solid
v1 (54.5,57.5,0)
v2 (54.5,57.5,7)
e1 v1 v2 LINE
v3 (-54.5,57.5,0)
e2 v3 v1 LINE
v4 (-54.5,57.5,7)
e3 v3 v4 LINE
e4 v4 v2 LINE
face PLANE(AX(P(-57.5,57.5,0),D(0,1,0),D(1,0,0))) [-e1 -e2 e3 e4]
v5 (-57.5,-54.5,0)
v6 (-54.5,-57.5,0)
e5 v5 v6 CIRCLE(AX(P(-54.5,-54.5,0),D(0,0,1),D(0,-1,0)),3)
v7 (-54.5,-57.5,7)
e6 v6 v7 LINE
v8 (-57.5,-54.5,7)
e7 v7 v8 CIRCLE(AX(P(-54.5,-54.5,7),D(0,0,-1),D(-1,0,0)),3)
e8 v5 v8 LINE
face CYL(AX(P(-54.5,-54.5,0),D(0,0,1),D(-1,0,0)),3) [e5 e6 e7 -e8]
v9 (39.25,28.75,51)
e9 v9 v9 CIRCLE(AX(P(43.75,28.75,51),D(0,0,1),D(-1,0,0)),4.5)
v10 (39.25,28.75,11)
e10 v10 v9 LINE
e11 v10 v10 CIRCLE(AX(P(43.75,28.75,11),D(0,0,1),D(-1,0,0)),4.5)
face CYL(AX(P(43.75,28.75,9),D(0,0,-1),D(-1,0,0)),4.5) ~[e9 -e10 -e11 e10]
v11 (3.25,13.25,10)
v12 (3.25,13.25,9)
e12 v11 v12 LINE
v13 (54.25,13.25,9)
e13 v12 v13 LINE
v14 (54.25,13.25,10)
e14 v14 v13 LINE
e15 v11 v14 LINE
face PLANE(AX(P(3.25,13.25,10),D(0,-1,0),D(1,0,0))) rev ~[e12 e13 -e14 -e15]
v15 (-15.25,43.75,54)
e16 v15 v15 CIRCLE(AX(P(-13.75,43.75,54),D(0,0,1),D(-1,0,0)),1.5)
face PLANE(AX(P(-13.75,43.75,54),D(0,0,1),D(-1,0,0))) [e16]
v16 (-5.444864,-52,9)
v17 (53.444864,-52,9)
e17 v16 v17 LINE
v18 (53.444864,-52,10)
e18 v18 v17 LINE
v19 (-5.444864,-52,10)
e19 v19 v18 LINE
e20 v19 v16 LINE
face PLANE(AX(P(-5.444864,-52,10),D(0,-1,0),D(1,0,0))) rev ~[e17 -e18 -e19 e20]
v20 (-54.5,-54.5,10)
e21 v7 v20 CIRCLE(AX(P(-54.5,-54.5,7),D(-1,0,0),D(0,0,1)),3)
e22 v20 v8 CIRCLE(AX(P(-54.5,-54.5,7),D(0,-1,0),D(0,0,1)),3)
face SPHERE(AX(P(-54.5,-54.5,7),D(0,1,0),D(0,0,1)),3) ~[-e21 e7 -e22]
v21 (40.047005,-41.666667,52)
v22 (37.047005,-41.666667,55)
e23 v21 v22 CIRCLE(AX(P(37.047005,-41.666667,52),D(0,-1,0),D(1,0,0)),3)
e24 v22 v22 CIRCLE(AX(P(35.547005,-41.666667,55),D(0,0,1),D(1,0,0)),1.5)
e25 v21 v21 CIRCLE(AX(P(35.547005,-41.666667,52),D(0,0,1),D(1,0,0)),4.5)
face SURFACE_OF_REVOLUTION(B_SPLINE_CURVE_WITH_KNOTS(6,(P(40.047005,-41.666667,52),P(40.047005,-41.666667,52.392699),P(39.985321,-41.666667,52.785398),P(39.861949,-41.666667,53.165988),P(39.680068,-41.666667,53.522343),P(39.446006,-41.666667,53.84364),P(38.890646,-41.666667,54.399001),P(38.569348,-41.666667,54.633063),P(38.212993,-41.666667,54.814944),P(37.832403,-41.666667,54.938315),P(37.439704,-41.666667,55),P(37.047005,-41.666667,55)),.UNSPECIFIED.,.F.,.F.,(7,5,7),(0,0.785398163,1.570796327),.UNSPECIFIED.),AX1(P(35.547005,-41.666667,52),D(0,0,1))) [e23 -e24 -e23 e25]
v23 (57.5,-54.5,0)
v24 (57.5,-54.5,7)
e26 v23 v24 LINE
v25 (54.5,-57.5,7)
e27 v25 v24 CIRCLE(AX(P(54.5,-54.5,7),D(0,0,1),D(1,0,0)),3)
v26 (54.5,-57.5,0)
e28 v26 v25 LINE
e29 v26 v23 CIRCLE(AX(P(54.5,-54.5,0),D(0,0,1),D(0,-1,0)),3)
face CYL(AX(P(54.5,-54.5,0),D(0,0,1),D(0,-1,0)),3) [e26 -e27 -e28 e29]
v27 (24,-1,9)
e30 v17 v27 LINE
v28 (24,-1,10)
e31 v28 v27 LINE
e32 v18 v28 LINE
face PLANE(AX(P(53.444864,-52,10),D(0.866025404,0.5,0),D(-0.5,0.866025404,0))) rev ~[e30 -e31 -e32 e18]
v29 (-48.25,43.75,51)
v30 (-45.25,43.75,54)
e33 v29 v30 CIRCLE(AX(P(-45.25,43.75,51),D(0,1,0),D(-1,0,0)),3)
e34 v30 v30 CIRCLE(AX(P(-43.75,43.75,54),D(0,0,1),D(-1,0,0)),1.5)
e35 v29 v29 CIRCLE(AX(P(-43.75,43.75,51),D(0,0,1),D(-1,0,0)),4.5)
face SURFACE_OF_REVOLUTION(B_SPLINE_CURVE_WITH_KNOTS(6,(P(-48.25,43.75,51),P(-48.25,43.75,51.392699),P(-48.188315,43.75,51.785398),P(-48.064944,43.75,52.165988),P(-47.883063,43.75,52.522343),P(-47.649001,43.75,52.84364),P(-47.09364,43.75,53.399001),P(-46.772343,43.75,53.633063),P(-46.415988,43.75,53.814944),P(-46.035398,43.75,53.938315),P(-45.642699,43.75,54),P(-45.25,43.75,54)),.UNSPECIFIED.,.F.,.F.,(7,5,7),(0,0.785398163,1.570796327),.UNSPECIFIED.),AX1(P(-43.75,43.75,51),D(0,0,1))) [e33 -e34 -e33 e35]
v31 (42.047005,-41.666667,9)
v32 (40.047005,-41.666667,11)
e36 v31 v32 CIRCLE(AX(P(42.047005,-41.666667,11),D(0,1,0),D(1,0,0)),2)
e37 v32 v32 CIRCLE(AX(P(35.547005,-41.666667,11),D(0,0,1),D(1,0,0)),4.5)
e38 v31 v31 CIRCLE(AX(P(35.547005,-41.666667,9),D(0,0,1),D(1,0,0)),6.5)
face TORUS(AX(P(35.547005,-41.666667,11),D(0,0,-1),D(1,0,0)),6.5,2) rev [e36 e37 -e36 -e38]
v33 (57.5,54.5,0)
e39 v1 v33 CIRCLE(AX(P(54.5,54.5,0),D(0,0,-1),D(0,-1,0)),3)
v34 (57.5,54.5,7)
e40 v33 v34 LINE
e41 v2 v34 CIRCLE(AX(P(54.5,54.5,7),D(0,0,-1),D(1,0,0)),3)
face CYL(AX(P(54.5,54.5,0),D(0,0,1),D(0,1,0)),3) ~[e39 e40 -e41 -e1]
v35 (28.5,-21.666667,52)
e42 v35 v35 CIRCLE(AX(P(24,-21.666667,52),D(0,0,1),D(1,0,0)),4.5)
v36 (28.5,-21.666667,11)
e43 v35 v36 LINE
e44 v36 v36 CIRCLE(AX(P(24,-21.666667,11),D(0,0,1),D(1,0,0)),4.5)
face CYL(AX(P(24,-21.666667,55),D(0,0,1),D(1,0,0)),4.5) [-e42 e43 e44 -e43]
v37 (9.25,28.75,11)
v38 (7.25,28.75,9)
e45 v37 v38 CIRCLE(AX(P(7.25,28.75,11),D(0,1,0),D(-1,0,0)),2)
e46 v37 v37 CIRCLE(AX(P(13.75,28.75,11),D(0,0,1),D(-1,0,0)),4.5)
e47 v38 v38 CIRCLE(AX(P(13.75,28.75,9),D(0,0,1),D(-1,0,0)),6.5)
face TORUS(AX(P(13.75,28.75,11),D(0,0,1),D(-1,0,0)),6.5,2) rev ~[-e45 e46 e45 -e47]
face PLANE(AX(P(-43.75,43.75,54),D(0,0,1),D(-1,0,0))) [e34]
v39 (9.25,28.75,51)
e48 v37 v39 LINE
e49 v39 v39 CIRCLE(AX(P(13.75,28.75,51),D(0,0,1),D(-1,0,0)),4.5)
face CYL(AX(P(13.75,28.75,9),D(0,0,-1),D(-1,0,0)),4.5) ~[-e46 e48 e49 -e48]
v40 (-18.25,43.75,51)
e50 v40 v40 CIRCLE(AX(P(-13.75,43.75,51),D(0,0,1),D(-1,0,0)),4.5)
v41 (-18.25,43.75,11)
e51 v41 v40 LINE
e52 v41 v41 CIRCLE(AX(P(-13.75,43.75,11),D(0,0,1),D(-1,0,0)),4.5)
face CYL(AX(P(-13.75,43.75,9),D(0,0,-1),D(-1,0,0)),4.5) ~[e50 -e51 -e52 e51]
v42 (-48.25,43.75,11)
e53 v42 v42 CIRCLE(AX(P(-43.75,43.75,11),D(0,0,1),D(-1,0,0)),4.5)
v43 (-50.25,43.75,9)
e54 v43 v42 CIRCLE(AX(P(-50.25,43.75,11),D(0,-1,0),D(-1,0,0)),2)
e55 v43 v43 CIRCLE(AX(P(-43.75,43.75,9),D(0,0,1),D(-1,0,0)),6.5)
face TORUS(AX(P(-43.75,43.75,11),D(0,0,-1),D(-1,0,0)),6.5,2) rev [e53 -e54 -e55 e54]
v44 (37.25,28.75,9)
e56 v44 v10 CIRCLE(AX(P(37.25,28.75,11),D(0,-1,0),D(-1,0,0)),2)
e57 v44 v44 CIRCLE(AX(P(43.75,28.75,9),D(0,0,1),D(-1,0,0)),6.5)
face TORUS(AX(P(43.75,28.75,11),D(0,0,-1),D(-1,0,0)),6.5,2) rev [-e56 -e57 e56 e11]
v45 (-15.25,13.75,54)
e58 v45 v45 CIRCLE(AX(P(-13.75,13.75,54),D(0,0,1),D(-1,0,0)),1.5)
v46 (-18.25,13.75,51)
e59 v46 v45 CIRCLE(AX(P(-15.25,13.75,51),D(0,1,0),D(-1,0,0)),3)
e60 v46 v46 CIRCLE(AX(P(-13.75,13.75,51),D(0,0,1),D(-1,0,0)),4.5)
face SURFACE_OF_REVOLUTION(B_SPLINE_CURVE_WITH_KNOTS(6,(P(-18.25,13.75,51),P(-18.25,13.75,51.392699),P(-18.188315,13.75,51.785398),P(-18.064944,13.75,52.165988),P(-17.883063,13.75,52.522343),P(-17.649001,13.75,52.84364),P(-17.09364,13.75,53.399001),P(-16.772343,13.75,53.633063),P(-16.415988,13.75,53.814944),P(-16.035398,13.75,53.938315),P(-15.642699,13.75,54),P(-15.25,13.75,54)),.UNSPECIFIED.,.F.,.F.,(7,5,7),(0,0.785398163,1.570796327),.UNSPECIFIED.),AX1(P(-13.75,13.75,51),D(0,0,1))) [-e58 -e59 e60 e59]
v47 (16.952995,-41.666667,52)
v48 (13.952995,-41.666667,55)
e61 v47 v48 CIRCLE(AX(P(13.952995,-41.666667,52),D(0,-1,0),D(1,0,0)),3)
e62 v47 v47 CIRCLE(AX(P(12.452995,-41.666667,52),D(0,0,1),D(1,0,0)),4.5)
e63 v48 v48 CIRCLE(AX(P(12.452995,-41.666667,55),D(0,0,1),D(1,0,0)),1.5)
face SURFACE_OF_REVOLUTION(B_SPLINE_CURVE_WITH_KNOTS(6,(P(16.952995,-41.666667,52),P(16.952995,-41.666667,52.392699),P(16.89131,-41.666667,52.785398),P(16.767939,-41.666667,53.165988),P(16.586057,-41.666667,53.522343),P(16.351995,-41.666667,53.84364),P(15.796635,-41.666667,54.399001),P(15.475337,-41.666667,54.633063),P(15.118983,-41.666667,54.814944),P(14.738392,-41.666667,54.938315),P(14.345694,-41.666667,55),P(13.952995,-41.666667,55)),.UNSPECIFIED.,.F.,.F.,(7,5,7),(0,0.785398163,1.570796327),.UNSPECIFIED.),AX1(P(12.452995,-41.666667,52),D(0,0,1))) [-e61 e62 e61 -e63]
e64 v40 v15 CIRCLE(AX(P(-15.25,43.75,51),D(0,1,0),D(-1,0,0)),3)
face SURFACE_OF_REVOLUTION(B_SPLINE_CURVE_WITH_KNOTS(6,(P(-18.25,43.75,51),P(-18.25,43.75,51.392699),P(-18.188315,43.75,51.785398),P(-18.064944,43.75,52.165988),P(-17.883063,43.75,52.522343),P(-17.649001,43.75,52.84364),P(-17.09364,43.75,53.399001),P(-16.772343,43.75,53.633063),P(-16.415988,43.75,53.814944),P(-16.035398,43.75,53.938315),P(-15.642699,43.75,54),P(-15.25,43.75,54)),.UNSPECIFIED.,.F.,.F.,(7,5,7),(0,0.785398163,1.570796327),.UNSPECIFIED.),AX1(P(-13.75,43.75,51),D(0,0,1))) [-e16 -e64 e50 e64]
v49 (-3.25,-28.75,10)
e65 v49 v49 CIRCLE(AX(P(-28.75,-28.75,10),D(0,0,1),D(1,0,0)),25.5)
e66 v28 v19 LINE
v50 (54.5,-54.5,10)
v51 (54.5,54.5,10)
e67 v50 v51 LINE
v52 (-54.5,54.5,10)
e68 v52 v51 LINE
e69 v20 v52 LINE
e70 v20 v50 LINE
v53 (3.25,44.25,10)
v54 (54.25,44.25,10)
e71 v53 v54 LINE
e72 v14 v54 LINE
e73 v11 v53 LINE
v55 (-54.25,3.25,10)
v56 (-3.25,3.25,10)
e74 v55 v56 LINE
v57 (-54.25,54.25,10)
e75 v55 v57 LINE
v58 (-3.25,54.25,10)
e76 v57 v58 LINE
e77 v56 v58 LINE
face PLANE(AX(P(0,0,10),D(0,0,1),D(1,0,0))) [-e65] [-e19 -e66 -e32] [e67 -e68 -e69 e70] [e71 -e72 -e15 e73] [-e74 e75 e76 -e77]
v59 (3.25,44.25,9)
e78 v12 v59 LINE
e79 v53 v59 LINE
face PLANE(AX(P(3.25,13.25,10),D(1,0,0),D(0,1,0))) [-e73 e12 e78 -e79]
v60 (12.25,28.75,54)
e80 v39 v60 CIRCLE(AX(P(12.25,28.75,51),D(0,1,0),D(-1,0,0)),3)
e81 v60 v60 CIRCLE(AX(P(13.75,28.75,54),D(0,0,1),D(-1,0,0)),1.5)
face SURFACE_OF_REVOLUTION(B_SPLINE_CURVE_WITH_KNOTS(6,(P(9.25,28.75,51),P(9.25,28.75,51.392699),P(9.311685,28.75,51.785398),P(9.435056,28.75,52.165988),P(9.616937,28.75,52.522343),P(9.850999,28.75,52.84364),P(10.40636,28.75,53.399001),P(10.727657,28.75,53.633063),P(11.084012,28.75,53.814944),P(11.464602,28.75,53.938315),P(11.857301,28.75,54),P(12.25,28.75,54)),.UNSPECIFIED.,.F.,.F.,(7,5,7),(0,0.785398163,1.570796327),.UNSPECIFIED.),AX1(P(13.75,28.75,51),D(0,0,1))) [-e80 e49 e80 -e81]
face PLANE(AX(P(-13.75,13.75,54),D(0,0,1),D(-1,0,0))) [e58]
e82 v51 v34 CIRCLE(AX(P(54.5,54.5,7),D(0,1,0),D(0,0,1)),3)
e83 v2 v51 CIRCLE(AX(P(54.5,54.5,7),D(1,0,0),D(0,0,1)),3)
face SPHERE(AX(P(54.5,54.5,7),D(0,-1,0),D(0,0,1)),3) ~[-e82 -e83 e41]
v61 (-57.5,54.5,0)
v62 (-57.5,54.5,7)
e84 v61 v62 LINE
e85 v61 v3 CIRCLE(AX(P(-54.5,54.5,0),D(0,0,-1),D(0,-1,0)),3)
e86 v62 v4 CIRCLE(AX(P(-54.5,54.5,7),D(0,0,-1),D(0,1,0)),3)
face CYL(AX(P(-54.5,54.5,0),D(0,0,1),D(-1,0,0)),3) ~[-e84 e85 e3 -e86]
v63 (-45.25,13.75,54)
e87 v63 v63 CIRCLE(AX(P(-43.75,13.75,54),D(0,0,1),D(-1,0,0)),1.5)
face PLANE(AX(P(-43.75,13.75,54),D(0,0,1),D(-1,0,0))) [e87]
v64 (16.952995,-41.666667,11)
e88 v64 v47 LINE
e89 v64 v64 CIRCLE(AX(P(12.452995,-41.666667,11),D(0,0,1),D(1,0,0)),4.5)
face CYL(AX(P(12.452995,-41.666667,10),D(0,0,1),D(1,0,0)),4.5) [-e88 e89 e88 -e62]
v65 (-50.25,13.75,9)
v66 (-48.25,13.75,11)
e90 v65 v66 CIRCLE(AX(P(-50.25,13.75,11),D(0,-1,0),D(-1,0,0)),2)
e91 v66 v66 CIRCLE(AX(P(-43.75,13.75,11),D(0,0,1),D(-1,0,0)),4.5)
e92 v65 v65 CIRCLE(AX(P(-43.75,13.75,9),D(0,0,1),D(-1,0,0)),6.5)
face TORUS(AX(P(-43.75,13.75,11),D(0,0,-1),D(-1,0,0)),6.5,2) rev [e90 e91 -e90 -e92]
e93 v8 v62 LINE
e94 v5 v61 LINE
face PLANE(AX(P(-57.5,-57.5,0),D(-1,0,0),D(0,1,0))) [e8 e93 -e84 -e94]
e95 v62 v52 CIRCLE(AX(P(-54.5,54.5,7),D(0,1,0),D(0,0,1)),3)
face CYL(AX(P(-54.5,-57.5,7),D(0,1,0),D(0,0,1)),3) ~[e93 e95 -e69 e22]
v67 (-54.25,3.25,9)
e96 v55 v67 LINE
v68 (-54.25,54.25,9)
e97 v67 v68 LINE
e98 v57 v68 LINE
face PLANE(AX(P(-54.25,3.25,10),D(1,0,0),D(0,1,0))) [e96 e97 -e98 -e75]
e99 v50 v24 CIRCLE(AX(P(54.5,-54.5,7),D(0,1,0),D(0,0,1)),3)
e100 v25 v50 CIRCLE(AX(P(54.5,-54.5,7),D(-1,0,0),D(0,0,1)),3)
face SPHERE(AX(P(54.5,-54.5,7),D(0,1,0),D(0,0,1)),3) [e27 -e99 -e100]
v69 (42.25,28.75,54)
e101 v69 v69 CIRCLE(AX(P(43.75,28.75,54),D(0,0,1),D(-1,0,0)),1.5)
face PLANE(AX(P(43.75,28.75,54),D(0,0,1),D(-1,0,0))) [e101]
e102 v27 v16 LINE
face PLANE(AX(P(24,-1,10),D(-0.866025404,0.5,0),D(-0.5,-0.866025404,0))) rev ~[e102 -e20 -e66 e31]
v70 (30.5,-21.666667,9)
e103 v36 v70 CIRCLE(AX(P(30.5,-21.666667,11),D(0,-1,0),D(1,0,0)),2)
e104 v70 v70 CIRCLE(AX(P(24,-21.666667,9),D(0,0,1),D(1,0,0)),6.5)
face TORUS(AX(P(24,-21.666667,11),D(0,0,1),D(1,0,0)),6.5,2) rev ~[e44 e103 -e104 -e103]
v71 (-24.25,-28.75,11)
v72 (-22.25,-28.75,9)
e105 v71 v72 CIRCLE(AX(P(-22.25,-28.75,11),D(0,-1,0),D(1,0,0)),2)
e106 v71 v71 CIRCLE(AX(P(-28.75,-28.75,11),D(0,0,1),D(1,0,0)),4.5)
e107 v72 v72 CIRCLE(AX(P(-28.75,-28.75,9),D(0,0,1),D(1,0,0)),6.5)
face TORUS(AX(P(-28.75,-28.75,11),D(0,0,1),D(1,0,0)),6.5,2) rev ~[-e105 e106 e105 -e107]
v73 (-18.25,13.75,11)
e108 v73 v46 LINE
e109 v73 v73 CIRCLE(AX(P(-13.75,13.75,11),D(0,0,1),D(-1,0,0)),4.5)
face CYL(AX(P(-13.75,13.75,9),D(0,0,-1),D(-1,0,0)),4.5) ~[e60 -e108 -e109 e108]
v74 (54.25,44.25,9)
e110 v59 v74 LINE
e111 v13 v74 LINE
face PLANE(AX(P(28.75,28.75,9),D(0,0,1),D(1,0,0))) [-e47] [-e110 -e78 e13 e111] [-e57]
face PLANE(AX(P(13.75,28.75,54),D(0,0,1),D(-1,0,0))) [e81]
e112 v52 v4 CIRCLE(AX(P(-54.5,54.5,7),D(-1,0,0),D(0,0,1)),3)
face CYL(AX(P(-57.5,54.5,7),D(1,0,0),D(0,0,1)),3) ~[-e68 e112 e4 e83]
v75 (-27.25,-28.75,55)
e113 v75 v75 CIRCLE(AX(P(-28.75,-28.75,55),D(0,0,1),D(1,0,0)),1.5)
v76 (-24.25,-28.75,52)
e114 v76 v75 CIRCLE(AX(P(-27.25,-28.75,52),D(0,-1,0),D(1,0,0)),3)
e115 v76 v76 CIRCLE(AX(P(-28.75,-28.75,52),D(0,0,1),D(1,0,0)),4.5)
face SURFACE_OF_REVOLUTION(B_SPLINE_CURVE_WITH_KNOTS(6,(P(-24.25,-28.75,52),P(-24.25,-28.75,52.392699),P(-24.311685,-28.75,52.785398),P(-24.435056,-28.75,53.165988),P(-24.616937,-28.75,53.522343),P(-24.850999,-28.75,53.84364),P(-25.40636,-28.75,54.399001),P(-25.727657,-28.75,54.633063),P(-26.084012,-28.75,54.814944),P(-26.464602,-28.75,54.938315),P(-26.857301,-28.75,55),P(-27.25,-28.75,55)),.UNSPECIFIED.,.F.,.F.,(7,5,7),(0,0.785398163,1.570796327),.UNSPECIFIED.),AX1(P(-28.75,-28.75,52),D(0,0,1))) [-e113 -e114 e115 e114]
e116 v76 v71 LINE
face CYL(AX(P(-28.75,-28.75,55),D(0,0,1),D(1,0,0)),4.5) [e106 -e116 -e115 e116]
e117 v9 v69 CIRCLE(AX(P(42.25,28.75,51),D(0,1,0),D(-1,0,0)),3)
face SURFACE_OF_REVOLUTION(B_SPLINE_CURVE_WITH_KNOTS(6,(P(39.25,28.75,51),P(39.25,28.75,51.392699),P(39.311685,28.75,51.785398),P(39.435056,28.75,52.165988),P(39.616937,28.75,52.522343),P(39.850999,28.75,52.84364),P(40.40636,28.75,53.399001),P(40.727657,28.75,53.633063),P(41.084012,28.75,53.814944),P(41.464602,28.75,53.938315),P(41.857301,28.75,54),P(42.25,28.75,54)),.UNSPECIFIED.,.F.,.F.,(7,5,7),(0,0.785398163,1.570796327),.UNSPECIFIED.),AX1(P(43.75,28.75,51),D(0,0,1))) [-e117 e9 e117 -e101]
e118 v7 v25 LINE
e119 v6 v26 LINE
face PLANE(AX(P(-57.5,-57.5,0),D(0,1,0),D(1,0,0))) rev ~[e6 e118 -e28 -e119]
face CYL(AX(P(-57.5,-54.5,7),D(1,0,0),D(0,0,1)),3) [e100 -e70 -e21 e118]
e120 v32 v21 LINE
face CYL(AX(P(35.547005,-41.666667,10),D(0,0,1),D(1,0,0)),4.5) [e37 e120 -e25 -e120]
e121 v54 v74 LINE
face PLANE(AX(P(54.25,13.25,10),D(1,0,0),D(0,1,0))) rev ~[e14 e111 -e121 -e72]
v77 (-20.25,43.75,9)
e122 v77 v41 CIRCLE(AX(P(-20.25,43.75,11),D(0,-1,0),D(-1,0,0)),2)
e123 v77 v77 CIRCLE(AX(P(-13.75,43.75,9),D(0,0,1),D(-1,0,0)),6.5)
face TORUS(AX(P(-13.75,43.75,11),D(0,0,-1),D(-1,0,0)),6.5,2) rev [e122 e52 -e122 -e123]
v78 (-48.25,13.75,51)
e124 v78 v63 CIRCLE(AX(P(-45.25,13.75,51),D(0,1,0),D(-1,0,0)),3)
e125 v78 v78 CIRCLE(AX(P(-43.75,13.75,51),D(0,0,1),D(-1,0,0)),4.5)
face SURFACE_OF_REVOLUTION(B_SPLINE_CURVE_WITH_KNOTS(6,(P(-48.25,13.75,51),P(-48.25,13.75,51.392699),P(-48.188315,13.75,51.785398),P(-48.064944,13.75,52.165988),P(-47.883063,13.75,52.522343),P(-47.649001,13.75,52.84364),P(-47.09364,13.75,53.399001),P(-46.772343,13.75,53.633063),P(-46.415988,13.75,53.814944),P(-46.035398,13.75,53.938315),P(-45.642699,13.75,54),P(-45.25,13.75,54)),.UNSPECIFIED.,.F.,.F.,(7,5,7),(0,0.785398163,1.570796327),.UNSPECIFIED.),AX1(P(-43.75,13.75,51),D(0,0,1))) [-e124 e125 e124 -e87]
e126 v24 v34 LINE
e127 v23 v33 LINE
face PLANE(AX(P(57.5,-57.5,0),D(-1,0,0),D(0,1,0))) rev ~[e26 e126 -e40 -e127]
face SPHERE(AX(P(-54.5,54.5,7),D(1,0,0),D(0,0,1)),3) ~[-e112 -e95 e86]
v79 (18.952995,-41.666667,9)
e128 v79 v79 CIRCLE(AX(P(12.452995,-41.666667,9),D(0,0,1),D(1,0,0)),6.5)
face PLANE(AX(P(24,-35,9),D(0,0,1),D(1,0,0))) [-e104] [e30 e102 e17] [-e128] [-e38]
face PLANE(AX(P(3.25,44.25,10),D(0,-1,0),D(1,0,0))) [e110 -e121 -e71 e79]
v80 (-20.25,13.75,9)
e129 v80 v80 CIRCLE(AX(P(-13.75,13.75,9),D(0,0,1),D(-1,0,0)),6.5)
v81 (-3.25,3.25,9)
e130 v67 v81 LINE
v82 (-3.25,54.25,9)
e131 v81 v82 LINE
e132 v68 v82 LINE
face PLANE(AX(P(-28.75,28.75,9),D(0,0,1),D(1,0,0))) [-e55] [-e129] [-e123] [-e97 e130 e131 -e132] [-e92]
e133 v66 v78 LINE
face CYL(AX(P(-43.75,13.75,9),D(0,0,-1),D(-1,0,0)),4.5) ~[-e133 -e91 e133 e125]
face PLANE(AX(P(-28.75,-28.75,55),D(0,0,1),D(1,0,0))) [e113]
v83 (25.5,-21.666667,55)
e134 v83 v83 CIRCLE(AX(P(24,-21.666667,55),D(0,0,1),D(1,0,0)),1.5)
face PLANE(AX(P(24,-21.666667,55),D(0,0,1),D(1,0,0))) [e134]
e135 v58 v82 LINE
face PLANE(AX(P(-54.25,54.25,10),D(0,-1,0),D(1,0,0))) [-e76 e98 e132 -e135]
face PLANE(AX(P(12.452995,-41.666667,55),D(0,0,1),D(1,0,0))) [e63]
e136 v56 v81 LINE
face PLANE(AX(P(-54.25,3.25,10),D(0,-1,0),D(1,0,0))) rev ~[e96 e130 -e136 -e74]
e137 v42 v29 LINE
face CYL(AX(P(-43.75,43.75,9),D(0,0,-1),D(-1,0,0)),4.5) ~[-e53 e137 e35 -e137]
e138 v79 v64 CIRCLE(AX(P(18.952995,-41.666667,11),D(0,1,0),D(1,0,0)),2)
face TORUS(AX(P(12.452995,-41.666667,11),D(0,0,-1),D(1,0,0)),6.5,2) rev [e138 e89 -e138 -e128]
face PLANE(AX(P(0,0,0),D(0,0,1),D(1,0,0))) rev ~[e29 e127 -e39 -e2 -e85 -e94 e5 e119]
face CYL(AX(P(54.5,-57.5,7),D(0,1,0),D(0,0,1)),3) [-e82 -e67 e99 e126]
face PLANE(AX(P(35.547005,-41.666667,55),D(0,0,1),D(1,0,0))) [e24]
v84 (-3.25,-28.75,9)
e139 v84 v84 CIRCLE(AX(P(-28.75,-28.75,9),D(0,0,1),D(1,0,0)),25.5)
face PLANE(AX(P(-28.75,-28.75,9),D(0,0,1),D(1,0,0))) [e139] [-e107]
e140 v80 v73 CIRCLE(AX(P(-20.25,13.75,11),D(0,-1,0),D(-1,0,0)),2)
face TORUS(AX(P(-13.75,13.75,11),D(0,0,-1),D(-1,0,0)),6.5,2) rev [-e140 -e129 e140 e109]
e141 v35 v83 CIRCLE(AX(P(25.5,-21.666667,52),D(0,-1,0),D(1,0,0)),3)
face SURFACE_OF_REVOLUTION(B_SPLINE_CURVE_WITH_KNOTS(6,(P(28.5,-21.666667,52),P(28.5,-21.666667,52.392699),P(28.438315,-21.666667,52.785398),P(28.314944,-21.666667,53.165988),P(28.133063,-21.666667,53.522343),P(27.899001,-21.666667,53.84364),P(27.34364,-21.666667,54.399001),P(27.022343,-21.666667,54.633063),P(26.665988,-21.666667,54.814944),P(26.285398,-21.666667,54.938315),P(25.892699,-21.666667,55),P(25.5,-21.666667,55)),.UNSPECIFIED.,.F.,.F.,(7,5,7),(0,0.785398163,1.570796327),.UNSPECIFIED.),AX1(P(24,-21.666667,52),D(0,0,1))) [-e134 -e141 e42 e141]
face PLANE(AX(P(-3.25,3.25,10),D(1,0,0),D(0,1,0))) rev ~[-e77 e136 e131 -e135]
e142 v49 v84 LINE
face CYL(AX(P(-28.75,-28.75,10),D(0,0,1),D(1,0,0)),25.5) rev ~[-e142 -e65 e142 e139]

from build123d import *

# Parameters (mm, degrees)
SKETCH1_W           = 115
SKETCH1_H           = 115
BOSS_EXTRUDE1_DEPTH = 10
SKETCH2_W           = 51
SKETCH2_H           = 51
CUT_EXTRUDE1_DEPTH  = 1
SKETCH3_R           = 4.5
BOSS_EXTRUDE2_DEPTH = 45
FILLET1_R           = 2
FILLET2_R           = 3
SKETCH4_W           = 51
SKETCH4_H           = 31
CUT_EXTRUDE2_DEPTH  = 1
SKETCH5_R           = 4.5
BOSS_EXTRUDE3_DEPTH = 45
FILLET3_R           = 3
FILLET4_R           = 2
SKETCH11_R          = 25.5
SKETCH11_R_2        = 4.5
CUT_EXTRUDE5_DEPTH  = 1
BOSS_EXTRUDE5_START = 45
SKETCH14_R          = 4.5
BOSS_EXTRUDE5_DEPTH = 45
FILLET7_R           = 3
FILLET8_R           = 2
SKETCH6_R           = 4.5
CUT_EXTRUDE6_DEPTH  = 1
BOSS_EXTRUDE6_START = 45
SKETCH16_R          = 4.5
BOSS_EXTRUDE6_DEPTH = 45
FILLET9_R           = 2
FILLET10_R          = 3
FILLET11_R          = 3


with BuildPart() as part:
    # Sketch1 → Boss-Extrude1 (new body)
    with BuildSketch(Plane.XY):
        Rectangle(SKETCH1_W, SKETCH1_H)
    extrude(amount=BOSS_EXTRUDE1_DEPTH)

    # Sketch2 → Cut-Extrude1 (cut)
    with BuildSketch(Plane.XY.offset(10)):
        with Locations((-28.75, 28.75)):
            Rectangle(SKETCH2_W, SKETCH2_H)
    extrude(amount=-CUT_EXTRUDE1_DEPTH, mode=Mode.SUBTRACT)

    # Sketch3 → Boss-Extrude2 (add)
    with BuildSketch(Plane.XY.offset(9)):
        with Locations(Location((-43.75, 43.75, 0), (0, 0, 180))):
            Circle(SKETCH3_R)
        with Locations(Location((-13.75, 43.75, 0), (0, 0, 180))):
            Circle(SKETCH3_R)
        with Locations(Location((-13.75, 13.75, 0), (0, 0, 180))):
            Circle(SKETCH3_R)
        with Locations(Location((-43.75, 13.75, 0), (0, 0, 180))):
            Circle(SKETCH3_R)
    extrude(amount=BOSS_EXTRUDE2_DEPTH)

    # Fillet1
    fillet1_edges = [part.edges().sort_by_distance(p)[0] for p in [
        (-39.25, 43.75, 9),
        (-9.25, 43.75, 9),
        (-9.25, 13.75, 9),
        (-39.25, 13.75, 9),
    ]]
    fillet(fillet1_edges, radius=FILLET1_R)

    # Fillet2
    fillet2_edges = [part.edges().sort_by_distance(p)[0] for p in [
        (-39.25, 43.75, 54),
        (-9.25, 43.75, 54),
        (-9.25, 13.75, 54),
        (-39.25, 13.75, 54),
    ]]
    fillet(fillet2_edges, radius=FILLET2_R)

    # Sketch4 → Cut-Extrude2 (cut)
    with BuildSketch(Plane.XY.offset(10)):
        with Locations((28.75, 28.75)):
            Rectangle(SKETCH4_W, SKETCH4_H)
    extrude(amount=-CUT_EXTRUDE2_DEPTH, mode=Mode.SUBTRACT)

    # Sketch5 → Boss-Extrude3 (add)
    with BuildSketch(Plane.XY.offset(9)):
        with Locations(Location((13.75, 28.75, 0), (0, 0, 180))):
            Circle(SKETCH5_R)
        with Locations(Location((43.75, 28.75, 0), (0, 0, 180))):
            Circle(SKETCH5_R)
    extrude(amount=BOSS_EXTRUDE3_DEPTH)

    # Fillet3
    fillet3_edges = [part.edges().sort_by_distance(p)[0] for p in [
        (18.25, 28.75, 54),
        (48.25, 28.75, 54),
    ]]
    fillet(fillet3_edges, radius=FILLET3_R)

    # Fillet4
    fillet4_edges = [part.edges().sort_by_distance(p)[0] for p in [
        (18.25, 28.75, 9),
        (48.25, 28.75, 9),
    ]]
    fillet(fillet4_edges, radius=FILLET4_R)

    # Sketch11 → Cut-Extrude5 (cut)
    with BuildSketch(Plane.XY.offset(10)):
        with Locations((-28.75, -28.75)):
            Circle(SKETCH11_R)
        with Locations((-28.75, -28.75)):
            Circle(SKETCH11_R_2, mode=Mode.SUBTRACT)
    extrude(amount=-CUT_EXTRUDE5_DEPTH, mode=Mode.SUBTRACT)

    # Sketch14 → Boss-Extrude5 (add)
    with BuildSketch(Plane.XY.offset(10).offset(BOSS_EXTRUDE5_START)):
        with Locations((-28.75, -28.75)):
            Circle(SKETCH14_R)
    extrude(amount=-BOSS_EXTRUDE5_DEPTH)

    # Fillet7
    fillet7_edges = [part.edges().sort_by_distance(p)[0] for p in [
        (-33.25, -28.75, 55),
    ]]
    fillet(fillet7_edges, radius=FILLET7_R)

    # Fillet8
    fillet8_edges = [part.edges().sort_by_distance(p)[0] for p in [
        (-33.25, -28.75, 9),
    ]]
    fillet(fillet8_edges, radius=FILLET8_R)

    # Sketch6 → Cut-Extrude6 (cut)
    with BuildSketch(Plane.XY.offset(10)):
        Polygon((24, -1), (-5.444863729, -52), (53.444863729, -52), align=None)
        with Locations((24, -21.666666667)):
            Circle(SKETCH6_R, mode=Mode.SUBTRACT)
        with Locations((35.547005384, -41.666666667)):
            Circle(SKETCH6_R, mode=Mode.SUBTRACT)
        with Locations((12.452994616, -41.666666667)):
            Circle(SKETCH6_R, mode=Mode.SUBTRACT)
    extrude(amount=-CUT_EXTRUDE6_DEPTH, mode=Mode.SUBTRACT)

    # Sketch16 → Boss-Extrude6 (add)
    with BuildSketch(Plane.XY.offset(10).offset(BOSS_EXTRUDE6_START)):
        with Locations((24, -21.666666667)):
            Circle(SKETCH16_R)
        with Locations((12.452994616, -41.666666667)):
            Circle(SKETCH16_R)
        with Locations((35.547005384, -41.666666667)):
            Circle(SKETCH16_R)
    extrude(amount=-BOSS_EXTRUDE6_DEPTH)

    # Fillet9
    fillet9_edges = [part.edges().sort_by_distance(p)[0] for p in [
        (7.952994616, -41.666666667, 9),
        (31.047005384, -41.666666667, 9),
        (19.5, -21.666666667, 9),
    ]]
    fillet(fillet9_edges, radius=FILLET9_R)

    # Fillet10
    fillet10_edges = [part.edges().sort_by_distance(p)[0] for p in [
        (19.5, -21.666666667, 55),
        (7.952994616, -41.666666667, 55),
        (31.047005384, -41.666666667, 55),
    ]]
    fillet(fillet10_edges, radius=FILLET10_R)

    # Fillet11
    fillet11_edges = [part.edges().sort_by_distance(p)[0] for p in [
        (57.5, 0, 10),
        (0, 57.5, 10),
        (-57.5, 0, 10),
        (0, -57.5, 10),
        (-57.5, 57.5, 5),
        (57.5, 57.5, 5),
        (57.5, -57.5, 5),
        (-57.5, -57.5, 5),
    ]]
    fillet(fillet11_edges, radius=FILLET11_R)


solid = part.part
